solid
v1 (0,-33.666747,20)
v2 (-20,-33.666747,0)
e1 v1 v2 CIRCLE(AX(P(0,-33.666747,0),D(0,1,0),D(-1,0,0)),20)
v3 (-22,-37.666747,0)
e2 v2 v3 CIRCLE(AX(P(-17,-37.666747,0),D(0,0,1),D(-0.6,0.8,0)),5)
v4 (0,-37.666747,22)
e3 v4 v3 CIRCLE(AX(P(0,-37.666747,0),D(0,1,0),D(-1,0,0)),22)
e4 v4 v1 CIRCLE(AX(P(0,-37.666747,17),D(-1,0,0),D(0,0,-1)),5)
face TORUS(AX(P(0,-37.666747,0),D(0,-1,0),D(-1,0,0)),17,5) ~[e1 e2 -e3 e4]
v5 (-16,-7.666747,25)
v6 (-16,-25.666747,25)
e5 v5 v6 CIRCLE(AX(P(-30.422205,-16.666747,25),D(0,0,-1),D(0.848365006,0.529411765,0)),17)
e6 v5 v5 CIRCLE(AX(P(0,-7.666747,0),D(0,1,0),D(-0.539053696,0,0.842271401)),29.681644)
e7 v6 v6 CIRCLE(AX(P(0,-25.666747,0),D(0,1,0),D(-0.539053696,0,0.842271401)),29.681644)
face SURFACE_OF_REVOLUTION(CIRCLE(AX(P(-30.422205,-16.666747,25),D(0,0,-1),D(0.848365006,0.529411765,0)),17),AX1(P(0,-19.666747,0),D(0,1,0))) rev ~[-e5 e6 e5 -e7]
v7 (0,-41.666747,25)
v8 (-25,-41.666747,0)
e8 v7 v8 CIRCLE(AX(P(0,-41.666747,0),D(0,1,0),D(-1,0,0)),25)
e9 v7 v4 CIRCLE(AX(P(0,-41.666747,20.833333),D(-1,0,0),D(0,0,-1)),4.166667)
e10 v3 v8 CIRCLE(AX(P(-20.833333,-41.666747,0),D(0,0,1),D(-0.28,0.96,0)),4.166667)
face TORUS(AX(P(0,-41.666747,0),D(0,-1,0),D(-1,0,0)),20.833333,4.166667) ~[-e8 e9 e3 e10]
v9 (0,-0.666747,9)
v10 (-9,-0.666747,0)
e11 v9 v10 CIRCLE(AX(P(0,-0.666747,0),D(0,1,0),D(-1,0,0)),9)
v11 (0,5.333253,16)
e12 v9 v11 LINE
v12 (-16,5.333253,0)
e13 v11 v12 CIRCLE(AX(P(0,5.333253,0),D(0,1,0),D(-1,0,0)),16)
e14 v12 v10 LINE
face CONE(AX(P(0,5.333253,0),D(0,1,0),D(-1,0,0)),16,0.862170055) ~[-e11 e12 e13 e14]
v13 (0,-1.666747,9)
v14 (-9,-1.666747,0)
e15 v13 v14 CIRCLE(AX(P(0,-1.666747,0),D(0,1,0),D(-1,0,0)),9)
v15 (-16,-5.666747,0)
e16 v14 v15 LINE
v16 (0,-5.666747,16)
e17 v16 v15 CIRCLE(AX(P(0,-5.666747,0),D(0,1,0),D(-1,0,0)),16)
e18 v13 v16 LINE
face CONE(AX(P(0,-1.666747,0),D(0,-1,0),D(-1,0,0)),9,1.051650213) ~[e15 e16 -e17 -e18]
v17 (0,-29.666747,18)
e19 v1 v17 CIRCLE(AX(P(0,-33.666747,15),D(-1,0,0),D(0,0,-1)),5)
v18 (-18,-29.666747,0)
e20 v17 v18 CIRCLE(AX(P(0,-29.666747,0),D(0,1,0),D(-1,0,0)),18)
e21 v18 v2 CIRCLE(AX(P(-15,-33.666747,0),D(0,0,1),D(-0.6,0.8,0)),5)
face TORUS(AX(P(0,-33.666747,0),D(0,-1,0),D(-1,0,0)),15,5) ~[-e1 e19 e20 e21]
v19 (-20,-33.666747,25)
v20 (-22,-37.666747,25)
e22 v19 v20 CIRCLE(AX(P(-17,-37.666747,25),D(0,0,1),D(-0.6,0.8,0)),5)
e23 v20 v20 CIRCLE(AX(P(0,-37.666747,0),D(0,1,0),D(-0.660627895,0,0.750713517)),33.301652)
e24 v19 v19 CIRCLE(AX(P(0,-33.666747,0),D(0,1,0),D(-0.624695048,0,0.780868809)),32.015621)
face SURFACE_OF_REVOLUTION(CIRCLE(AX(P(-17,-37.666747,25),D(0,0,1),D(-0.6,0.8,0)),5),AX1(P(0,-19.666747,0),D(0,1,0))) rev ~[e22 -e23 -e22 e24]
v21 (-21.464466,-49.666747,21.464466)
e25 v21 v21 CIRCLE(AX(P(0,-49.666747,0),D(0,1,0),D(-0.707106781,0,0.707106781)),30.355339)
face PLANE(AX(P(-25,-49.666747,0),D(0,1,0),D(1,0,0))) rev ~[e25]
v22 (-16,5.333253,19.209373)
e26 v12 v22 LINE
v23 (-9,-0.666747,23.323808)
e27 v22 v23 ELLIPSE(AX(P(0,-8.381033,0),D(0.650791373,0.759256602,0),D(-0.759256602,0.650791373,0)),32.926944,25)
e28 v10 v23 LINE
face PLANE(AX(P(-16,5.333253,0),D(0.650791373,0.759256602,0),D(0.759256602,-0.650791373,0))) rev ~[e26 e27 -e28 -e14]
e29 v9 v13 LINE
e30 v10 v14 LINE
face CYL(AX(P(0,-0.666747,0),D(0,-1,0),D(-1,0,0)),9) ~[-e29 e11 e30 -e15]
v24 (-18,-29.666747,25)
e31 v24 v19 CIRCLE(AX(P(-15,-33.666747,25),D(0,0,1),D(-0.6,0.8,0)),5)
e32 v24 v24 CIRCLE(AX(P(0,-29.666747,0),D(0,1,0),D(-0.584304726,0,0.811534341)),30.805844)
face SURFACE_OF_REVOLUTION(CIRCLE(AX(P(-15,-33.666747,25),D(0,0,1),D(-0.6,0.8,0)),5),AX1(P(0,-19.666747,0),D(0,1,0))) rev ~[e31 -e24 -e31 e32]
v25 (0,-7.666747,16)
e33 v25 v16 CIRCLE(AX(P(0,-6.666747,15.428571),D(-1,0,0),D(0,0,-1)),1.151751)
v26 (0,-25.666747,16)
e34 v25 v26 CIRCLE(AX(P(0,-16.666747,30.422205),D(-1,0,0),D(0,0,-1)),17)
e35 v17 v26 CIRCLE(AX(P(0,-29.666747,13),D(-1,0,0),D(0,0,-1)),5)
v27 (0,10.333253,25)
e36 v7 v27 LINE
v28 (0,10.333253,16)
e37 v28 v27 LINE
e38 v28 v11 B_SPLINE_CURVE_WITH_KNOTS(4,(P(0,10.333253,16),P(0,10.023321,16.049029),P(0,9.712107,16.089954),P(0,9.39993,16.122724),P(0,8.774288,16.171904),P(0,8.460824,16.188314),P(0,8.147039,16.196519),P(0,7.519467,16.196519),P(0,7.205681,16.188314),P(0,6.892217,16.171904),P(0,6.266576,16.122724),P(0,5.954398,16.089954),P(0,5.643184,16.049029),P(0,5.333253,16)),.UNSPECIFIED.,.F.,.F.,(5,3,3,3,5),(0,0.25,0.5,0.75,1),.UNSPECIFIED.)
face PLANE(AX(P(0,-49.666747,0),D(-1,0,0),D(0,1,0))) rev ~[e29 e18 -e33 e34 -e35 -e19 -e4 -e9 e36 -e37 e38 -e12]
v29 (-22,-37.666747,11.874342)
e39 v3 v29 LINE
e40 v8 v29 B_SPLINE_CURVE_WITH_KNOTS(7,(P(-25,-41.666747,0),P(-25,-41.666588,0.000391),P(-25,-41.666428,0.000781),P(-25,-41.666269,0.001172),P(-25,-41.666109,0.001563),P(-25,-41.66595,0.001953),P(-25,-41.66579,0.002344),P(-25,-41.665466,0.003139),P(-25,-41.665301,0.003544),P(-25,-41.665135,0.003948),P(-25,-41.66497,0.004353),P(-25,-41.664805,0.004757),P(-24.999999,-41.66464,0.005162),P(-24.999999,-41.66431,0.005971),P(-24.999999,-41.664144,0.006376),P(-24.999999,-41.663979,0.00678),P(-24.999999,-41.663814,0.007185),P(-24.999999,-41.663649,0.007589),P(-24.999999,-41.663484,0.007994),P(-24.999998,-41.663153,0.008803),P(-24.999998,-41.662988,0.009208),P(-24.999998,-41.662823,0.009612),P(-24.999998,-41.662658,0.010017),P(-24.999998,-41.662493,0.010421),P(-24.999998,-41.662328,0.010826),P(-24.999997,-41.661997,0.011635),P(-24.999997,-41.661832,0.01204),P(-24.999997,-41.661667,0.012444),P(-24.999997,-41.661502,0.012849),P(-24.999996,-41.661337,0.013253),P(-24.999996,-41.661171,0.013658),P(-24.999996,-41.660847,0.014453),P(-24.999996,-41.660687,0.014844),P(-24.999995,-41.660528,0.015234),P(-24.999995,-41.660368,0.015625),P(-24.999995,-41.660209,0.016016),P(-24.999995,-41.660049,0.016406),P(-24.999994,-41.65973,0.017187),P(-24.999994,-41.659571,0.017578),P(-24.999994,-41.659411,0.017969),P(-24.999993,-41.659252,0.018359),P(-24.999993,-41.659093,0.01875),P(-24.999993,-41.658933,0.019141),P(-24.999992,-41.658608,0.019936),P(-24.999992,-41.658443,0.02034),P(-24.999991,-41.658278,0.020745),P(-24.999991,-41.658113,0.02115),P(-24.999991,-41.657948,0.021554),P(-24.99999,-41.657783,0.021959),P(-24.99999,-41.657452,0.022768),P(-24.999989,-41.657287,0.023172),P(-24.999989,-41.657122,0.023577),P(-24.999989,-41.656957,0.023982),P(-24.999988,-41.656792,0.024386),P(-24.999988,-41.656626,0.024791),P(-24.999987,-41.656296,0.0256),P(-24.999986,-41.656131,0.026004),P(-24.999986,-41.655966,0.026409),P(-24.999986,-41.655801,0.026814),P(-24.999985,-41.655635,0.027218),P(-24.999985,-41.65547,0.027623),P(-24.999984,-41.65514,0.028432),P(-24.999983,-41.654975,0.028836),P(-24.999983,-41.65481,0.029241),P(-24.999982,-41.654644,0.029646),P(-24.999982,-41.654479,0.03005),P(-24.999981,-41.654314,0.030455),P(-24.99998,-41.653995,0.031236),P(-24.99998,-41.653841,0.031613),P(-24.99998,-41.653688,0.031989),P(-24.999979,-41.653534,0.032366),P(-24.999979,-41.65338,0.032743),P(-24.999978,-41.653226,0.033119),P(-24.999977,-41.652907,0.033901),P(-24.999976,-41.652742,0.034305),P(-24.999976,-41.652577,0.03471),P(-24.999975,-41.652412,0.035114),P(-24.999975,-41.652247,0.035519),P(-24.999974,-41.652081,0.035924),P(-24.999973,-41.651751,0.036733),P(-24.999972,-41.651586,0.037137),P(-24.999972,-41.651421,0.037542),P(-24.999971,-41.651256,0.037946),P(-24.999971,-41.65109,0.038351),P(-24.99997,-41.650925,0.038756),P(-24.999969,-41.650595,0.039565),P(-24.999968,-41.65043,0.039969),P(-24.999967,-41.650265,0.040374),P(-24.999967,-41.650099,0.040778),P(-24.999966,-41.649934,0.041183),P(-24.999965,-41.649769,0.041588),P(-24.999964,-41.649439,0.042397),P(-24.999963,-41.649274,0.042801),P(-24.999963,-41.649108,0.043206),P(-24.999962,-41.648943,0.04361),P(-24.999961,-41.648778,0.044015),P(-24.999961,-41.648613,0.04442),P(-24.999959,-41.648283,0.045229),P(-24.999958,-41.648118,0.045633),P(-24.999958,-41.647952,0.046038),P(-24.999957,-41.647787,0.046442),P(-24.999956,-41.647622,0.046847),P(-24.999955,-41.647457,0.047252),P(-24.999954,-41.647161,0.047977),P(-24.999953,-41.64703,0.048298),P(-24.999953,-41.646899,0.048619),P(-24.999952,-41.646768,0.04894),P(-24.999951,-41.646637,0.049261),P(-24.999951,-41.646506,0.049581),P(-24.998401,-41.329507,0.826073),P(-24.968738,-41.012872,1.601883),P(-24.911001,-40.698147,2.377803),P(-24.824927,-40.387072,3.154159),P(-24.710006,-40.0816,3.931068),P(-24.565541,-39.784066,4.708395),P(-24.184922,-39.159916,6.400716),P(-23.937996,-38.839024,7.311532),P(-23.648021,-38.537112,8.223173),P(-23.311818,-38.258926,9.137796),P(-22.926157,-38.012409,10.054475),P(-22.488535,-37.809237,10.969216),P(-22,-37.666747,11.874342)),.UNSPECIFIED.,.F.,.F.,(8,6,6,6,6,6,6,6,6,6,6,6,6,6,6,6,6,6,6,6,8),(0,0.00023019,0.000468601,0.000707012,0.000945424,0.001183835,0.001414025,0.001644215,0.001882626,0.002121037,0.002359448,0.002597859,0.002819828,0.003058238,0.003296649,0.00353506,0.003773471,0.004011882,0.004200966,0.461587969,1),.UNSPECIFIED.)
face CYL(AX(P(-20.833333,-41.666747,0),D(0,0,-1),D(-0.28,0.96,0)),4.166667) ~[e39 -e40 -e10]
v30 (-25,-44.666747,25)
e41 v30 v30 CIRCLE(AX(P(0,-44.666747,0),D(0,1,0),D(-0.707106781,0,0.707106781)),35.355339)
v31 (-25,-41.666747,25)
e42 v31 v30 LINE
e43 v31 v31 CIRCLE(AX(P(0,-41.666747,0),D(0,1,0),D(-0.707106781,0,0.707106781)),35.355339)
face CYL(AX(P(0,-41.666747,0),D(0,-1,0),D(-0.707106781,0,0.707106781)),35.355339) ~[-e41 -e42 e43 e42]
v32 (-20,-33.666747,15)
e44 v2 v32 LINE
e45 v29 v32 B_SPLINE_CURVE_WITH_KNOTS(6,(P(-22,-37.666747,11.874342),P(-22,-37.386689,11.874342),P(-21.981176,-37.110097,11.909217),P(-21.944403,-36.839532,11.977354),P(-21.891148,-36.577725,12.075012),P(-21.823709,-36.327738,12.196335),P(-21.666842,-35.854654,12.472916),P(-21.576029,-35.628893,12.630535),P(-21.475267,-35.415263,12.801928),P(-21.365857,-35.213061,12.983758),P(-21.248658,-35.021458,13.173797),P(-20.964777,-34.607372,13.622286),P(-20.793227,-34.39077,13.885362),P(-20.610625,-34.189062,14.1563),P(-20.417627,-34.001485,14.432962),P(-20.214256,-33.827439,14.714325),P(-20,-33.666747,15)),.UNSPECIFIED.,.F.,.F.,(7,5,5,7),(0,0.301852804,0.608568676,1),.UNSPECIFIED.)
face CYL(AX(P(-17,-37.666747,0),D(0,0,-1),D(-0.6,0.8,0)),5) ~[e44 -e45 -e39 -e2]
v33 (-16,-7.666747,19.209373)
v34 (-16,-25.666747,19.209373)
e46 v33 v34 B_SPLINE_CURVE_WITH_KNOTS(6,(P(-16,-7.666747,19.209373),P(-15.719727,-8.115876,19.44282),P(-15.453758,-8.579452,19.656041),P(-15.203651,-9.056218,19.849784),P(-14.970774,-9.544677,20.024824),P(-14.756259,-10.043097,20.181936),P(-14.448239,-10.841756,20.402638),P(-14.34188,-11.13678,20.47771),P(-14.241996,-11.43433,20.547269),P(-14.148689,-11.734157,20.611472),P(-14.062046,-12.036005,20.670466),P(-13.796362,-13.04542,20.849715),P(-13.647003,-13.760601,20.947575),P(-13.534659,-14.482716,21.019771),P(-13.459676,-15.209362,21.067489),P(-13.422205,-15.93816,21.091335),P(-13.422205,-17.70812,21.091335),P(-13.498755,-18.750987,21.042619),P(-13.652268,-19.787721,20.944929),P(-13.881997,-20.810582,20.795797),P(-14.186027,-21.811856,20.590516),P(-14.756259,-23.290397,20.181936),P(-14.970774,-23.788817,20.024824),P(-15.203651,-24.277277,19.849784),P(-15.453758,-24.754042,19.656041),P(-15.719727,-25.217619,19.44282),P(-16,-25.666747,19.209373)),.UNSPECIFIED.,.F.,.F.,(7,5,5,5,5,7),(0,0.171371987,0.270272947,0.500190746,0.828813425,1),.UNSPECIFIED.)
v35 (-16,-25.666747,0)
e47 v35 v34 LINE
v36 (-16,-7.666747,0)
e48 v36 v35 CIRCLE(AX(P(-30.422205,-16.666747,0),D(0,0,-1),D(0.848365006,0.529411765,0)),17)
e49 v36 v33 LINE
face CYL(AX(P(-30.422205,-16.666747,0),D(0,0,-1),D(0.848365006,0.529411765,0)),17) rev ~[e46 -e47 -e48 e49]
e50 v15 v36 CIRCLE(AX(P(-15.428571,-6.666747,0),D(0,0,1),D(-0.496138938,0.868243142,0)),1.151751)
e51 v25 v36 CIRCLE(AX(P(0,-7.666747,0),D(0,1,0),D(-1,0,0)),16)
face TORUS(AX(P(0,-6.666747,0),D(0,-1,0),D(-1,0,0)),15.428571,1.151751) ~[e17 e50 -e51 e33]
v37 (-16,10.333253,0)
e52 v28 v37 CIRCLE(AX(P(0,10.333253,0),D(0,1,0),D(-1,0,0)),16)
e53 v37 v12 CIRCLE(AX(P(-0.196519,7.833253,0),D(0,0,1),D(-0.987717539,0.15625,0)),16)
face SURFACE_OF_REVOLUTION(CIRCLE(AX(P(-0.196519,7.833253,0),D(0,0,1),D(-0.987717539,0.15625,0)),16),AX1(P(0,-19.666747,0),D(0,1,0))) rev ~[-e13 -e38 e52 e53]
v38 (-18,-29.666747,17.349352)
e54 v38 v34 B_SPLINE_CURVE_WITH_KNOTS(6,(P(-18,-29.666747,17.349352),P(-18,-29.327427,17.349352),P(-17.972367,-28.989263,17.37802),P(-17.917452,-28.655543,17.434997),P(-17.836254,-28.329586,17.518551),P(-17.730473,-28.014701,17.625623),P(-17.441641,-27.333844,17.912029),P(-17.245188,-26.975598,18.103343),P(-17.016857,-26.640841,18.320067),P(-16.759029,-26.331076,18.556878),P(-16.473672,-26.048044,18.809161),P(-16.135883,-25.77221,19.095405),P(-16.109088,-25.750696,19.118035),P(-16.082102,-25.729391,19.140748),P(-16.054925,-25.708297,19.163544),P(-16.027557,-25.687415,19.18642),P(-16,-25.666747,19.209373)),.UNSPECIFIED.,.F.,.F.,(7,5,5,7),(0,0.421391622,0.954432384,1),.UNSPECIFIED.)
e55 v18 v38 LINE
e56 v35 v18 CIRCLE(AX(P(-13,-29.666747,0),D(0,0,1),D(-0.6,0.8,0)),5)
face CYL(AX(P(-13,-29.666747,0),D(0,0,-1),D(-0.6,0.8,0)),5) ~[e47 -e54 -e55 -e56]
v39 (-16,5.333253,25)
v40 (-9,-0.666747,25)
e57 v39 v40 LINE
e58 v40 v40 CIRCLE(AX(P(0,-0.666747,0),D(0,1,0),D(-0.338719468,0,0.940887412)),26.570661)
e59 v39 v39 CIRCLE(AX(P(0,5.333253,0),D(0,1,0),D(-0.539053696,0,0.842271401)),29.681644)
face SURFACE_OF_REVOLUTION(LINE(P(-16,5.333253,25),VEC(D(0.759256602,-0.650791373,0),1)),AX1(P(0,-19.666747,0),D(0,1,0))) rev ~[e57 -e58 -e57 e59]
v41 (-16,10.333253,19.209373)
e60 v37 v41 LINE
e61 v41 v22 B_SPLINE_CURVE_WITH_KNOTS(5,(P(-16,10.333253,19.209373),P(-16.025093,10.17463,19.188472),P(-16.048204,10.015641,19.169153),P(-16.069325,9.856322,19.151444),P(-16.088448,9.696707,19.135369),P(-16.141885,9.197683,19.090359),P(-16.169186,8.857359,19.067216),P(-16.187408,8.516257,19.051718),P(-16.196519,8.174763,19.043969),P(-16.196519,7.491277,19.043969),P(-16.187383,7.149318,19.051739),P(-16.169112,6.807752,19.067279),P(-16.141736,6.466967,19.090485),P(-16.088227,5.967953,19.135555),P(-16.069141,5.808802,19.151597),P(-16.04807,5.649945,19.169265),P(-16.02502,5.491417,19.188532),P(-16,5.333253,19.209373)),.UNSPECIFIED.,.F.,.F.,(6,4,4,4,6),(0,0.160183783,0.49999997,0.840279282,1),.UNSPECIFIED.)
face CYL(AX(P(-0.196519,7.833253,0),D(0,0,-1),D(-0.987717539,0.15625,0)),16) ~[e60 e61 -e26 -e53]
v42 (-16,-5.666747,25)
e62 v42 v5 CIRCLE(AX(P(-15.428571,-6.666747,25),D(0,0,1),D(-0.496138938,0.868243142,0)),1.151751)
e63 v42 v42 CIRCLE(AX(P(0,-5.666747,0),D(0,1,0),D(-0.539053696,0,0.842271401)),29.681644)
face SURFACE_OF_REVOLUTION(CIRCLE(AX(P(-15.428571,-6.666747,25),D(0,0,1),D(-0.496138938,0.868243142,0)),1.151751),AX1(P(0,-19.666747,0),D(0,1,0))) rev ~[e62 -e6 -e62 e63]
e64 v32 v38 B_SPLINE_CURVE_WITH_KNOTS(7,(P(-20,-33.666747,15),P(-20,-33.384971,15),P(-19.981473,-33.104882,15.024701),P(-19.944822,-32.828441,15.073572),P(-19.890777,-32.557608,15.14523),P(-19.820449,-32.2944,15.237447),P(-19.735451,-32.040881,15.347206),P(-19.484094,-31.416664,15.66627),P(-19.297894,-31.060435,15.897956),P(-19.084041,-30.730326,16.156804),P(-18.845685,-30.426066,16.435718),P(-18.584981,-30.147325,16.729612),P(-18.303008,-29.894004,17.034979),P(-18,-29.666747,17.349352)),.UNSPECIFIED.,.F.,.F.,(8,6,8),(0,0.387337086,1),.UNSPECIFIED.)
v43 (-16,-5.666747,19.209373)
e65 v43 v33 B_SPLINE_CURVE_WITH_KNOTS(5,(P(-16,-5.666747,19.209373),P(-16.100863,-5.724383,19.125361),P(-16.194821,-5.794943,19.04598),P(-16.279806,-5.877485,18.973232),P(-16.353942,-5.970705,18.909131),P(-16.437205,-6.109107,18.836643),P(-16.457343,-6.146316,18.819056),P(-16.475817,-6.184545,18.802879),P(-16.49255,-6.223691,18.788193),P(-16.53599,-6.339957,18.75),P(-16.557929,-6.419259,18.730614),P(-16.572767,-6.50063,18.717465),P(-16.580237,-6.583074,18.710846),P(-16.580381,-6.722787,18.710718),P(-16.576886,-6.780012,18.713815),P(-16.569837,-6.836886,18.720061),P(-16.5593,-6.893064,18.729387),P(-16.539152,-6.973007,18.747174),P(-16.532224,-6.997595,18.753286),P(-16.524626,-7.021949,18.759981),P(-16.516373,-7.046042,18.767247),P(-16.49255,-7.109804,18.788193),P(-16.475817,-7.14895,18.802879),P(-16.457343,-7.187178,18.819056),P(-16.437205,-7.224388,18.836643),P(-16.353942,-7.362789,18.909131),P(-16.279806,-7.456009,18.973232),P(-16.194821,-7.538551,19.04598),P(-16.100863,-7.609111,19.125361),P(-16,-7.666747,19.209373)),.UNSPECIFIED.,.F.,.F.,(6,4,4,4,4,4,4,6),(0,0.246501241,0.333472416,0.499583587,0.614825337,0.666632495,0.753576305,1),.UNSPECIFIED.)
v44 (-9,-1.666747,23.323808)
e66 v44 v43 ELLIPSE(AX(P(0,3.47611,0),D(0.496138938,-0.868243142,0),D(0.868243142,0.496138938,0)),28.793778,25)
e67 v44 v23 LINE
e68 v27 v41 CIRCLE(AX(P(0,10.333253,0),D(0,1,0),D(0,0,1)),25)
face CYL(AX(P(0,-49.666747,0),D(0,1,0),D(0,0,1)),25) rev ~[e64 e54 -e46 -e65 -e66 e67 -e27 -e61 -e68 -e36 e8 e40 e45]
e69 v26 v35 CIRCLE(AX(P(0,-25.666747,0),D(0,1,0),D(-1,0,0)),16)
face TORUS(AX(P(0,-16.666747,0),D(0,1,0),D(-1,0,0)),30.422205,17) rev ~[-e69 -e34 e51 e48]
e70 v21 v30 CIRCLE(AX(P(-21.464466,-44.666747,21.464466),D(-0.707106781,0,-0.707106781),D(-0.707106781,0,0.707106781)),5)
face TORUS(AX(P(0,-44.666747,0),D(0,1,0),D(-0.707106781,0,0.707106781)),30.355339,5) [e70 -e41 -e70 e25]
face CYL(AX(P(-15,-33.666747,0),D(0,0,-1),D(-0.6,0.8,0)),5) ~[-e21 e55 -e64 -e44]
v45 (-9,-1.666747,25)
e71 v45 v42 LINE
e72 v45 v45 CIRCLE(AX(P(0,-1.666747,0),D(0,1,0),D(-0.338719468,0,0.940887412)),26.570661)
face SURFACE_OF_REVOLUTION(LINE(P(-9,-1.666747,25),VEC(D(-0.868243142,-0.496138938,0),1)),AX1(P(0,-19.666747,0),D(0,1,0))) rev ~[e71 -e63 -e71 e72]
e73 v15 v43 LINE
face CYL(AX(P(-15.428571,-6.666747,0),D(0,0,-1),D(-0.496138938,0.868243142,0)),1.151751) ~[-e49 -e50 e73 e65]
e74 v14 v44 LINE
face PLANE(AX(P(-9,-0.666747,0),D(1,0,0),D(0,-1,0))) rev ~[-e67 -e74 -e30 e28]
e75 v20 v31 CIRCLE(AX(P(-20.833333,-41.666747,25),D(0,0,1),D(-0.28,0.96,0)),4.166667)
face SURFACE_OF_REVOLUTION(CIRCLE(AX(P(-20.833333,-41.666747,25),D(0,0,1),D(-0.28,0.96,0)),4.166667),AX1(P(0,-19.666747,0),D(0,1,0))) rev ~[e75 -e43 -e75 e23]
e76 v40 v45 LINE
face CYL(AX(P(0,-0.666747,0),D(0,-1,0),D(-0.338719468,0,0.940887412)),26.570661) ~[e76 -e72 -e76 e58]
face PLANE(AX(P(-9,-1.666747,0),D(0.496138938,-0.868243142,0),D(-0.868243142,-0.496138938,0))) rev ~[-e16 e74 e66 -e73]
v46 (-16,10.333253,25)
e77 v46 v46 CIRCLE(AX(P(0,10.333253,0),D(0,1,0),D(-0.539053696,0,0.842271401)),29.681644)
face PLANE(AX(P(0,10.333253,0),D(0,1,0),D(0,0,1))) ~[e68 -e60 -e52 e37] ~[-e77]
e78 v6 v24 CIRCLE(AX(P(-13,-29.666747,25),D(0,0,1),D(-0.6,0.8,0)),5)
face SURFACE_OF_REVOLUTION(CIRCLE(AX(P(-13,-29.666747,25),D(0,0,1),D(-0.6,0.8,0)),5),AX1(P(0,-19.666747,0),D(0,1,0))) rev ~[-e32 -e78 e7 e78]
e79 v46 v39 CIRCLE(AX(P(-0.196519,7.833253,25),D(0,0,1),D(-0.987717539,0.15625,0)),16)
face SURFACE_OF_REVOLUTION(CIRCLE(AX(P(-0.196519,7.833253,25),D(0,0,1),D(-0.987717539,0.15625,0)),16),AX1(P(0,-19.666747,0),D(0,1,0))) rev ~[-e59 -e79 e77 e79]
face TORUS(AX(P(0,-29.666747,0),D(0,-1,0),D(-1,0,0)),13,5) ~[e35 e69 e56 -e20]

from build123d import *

# Parameters (mm, degrees)
F0_W     = 16
F0_H     = 2
F0_H_2   = 5
F1_DEPTH = 25
F3_R     = 5
F4_R     = 6
F5_DEPTH = 50


with BuildPart() as f1:
    # F0 (on Top) → F1 (new body)
    with BuildSketch(Plane.XY):
        Polygon((-25, -49.6667471989), (0, -49.6667471989), (0, -41.6667471989), (-22, -41.6667471989), (-25, -41.6667471989), align=None)
        Polygon((-22, -41.6667471989), (0, -41.6667471989), (0, -37.6667471989), (-20, -37.6667471989), (-22, -37.6667471989), align=None)
        with BuildLine():
            ThreePointArc((-22, -37.6667471989), (-24.1666666667, -39.1667471989), (-25, -41.6667471989))
            Line((-25, -41.6667471989), (-22, -41.6667471989))
            Line((-22, -41.6667471989), (-22, -37.6667471989))
        make_face()
        Polygon((-20, -37.6667471989), (0, -37.6667471989), (0, -33.6667471989), (-18, -33.6667471989), (-20, -33.6667471989), align=None)
        with BuildLine():
            ThreePointArc((-20, -33.6667471989), (-21.472135955, -35.4306792214), (-22, -37.6667471989))
            Line((-22, -37.6667471989), (-20, -37.6667471989))
            Line((-20, -37.6667471989), (-20, -33.6667471989))
        make_face()
        Polygon((-18, -33.6667471989), (0, -33.6667471989), (0, -29.6667471989), (-1.4743328793, -29.6667471989), (-16, -29.6667471989), (-18, -29.6667471989), align=None)
        with BuildLine():
            ThreePointArc((-18, -29.6667471989), (-19.472135955, -31.4306792214), (-20, -33.6667471989))
            Line((-20, -33.6667471989), (-18, -33.6667471989))
            Line((-18, -33.6667471989), (-18, -29.6667471989))
        make_face()
        Polygon((-1.4743328793, -29.6667471989), (0, -29.6667471989), (0, -25.6667471989), (-16, -25.6667471989), (-16, -29.6667471989), align=None)
        with BuildLine():
            ThreePointArc((-16, -25.6667471989), (-17.472135955, -27.4306792214), (-18, -29.6667471989))
            Line((-18, -29.6667471989), (-16, -29.6667471989))
            Line((-16, -29.6667471989), (-16, -25.6667471989))
        make_face()
        with BuildLine():
            Line((-16, -25.6667471989), (0, -25.6667471989))
            Line((0, -25.6667471989), (0, -7.6667471989))
            Line((0, -7.6667471989), (-16, -7.6667471989))
            ThreePointArc((-16, -7.6667471989), (-13.4222051019, -16.6667471989), (-16, -25.6667471989))
        make_face()
        with Locations((-8, -6.6667471989)):
            Rectangle(F0_W, F0_H)
        with BuildLine():
            ThreePointArc((-16, -5.6667471989), (-16.5803225355, -6.6667471989), (-16, -7.6667471989))
            Line((-16, -7.6667471989), (-16, -5.6667471989))
        make_face()
        Polygon((-16, -5.6667471989), (0, -5.6667471989), (0, -1.6667471989), (-9, -1.6667471989), align=None)
        with BuildLine():
            Line((-9, -1.6667471989), (0, -1.6667471989))
            Line((0, -1.6667471989), (0, -0.6667471989))
            Line((0, -0.6667471989), (-9, -0.6667471989))
            ThreePointArc((-9, -0.6667471989), (-8.7700325388, -1.1667471989), (-9, -1.6667471989))
        make_face()
        with BuildLine():
            Line((-9, -0.6667471989), (-9, -1.6667471989))
            ThreePointArc((-9, -1.6667471989), (-8.7700325388, -1.1667471989), (-9, -0.6667471989))
        make_face()
        Polygon((-9, -0.6667471989), (0, -0.6667471989), (0, 0), (0, 5.3332528011), (-16, 5.3332528011), align=None)
        with Locations((-8, 7.8332528011)):
            Rectangle(F0_W, F0_H_2)
        with BuildLine():
            ThreePointArc((-16, 10.3332528011), (-16.1965193707, 7.8332528011), (-16, 5.3332528011))
            Line((-16, 5.3332528011), (-16, 10.3332528011))
        make_face()
    extrude(amount=F1_DEPTH)

    # F0 (on Top) + F1_face (on face) → F2 (revolve)
    with BuildSketch(Plane.XY):
        Polygon((-25, -49.6667471989), (0, -49.6667471989), (0, -41.6667471989), (-22, -41.6667471989), (-25, -41.6667471989), align=None)
        Polygon((-22, -41.6667471989), (0, -41.6667471989), (0, -37.6667471989), (-20, -37.6667471989), (-22, -37.6667471989), align=None)
        with BuildLine():
            ThreePointArc((-22, -37.6667471989), (-24.1666666667, -39.1667471989), (-25, -41.6667471989))
            Line((-25, -41.6667471989), (-22, -41.6667471989))
            Line((-22, -41.6667471989), (-22, -37.6667471989))
        make_face()
        Polygon((-20, -37.6667471989), (0, -37.6667471989), (0, -33.6667471989), (-18, -33.6667471989), (-20, -33.6667471989), align=None)
        with BuildLine():
            ThreePointArc((-20, -33.6667471989), (-21.472135955, -35.4306792214), (-22, -37.6667471989))
            Line((-22, -37.6667471989), (-20, -37.6667471989))
            Line((-20, -37.6667471989), (-20, -33.6667471989))
        make_face()
        Polygon((-18, -33.6667471989), (0, -33.6667471989), (0, -29.6667471989), (-1.4743328793, -29.6667471989), (-16, -29.6667471989), (-18, -29.6667471989), align=None)
        with BuildLine():
            ThreePointArc((-18, -29.6667471989), (-19.472135955, -31.4306792214), (-20, -33.6667471989))
            Line((-20, -33.6667471989), (-18, -33.6667471989))
            Line((-18, -33.6667471989), (-18, -29.6667471989))
        make_face()
        Polygon((-1.4743328793, -29.6667471989), (0, -29.6667471989), (0, -25.6667471989), (-16, -25.6667471989), (-16, -29.6667471989), align=None)
        with BuildLine():
            ThreePointArc((-16, -25.6667471989), (-17.472135955, -27.4306792214), (-18, -29.6667471989))
            Line((-18, -29.6667471989), (-16, -29.6667471989))
            Line((-16, -29.6667471989), (-16, -25.6667471989))
        make_face()
        with BuildLine():
            Line((-16, -25.6667471989), (0, -25.6667471989))
            Line((0, -25.6667471989), (0, -7.6667471989))
            Line((0, -7.6667471989), (-16, -7.6667471989))
            ThreePointArc((-16, -7.6667471989), (-13.4222051019, -16.6667471989), (-16, -25.6667471989))
        make_face()
        with Locations((-8, -6.6667471989)):
            Rectangle(F0_W, F0_H)
        with BuildLine():
            ThreePointArc((-16, -5.6667471989), (-16.5803225355, -6.6667471989), (-16, -7.6667471989))
            Line((-16, -7.6667471989), (-16, -5.6667471989))
        make_face()
        Polygon((-16, -5.6667471989), (0, -5.6667471989), (0, -1.6667471989), (-9, -1.6667471989), align=None)
        with BuildLine():
            Line((-9, -1.6667471989), (0, -1.6667471989))
            Line((0, -1.6667471989), (0, -0.6667471989))
            Line((0, -0.6667471989), (-9, -0.6667471989))
            ThreePointArc((-9, -0.6667471989), (-8.7700325388, -1.1667471989), (-9, -1.6667471989))
        make_face()
        with BuildLine():
            Line((-9, -0.6667471989), (-9, -1.6667471989))
            ThreePointArc((-9, -1.6667471989), (-8.7700325388, -1.1667471989), (-9, -0.6667471989))
        make_face()
        Polygon((-9, -0.6667471989), (0, -0.6667471989), (0, 0), (0, 5.3332528011), (-16, 5.3332528011), align=None)
        with Locations((-8, 7.8332528011)):
            Rectangle(F0_W, F0_H_2)
        with BuildLine():
            ThreePointArc((-16, 10.3332528011), (-16.1965193707, 7.8332528011), (-16, 5.3332528011))
            Line((-16, 5.3332528011), (-16, 10.3332528011))
        make_face()
    with BuildSketch(Plane(origin=(-9.2340448196, -23.5001528006, 25), x_dir=(1, 0, 0), z_dir=(0, 0, 1))):
        with BuildLine():
            Line((-15.7659551804, -26.1665943983), (9.2340448196, -26.1665943983))
            Line((9.2340448196, -26.1665943983), (9.2340448196, 33.8334056017))
            Line((9.2340448196, 33.8334056017), (-6.7659551804, 33.8334056017))
            ThreePointArc((-6.7659551804, 33.8334056017), (-6.9624745511, 31.3334056017), (-6.7659551804, 28.8334056017))
            Line((-6.7659551804, 28.8334056017), (0.2340448196, 22.8334056017))
            Line((0.2340448196, 22.8334056017), (0.2340448196, 21.8334056017))
            Line((0.2340448196, 21.8334056017), (-6.7659551804, 17.8334056017))
            ThreePointArc((-6.7659551804, 17.8334056017), (-7.3462777158, 16.8334056017), (-6.7659551804, 15.8334056017))
            ThreePointArc((-6.7659551804, 15.8334056017), (-4.1881602822, 6.8334056017), (-6.7659551804, -2.1665943983))
            ThreePointArc((-6.7659551804, -2.1665943983), (-8.2380911354, -3.9305264208), (-8.7659551804, -6.1665943983))
            ThreePointArc((-8.7659551804, -6.1665943983), (-10.2380911354, -7.9305264208), (-10.7659551804, -10.1665943983))
            ThreePointArc((-10.7659551804, -10.1665943983), (-12.2380911354, -11.9305264208), (-12.7659551804, -14.1665943983))
            ThreePointArc((-12.7659551804, -14.1665943983), (-14.932621847, -15.6665943983), (-15.7659551804, -18.1665943983))
            Line((-15.7659551804, -18.1665943983), (-15.7659551804, -26.1665943983))
        make_face()
    revolve(axis=Axis((0, -19.6667471989, 0), (0, 1, 0)))

    # F3
    f3_edges = [f1.edges().sort_by_distance(p)[0] for p in [
        (25, -49.666747, -25),
    ]]
    fillet(f3_edges, radius=F3_R)

    # F4 (on face) → F5 (join)
    with BuildSketch(Plane.XZ.offset(49.6667471989)):
        Circle(F4_R)
    extrude(amount=-F5_DEPTH)


solid = f1.part
